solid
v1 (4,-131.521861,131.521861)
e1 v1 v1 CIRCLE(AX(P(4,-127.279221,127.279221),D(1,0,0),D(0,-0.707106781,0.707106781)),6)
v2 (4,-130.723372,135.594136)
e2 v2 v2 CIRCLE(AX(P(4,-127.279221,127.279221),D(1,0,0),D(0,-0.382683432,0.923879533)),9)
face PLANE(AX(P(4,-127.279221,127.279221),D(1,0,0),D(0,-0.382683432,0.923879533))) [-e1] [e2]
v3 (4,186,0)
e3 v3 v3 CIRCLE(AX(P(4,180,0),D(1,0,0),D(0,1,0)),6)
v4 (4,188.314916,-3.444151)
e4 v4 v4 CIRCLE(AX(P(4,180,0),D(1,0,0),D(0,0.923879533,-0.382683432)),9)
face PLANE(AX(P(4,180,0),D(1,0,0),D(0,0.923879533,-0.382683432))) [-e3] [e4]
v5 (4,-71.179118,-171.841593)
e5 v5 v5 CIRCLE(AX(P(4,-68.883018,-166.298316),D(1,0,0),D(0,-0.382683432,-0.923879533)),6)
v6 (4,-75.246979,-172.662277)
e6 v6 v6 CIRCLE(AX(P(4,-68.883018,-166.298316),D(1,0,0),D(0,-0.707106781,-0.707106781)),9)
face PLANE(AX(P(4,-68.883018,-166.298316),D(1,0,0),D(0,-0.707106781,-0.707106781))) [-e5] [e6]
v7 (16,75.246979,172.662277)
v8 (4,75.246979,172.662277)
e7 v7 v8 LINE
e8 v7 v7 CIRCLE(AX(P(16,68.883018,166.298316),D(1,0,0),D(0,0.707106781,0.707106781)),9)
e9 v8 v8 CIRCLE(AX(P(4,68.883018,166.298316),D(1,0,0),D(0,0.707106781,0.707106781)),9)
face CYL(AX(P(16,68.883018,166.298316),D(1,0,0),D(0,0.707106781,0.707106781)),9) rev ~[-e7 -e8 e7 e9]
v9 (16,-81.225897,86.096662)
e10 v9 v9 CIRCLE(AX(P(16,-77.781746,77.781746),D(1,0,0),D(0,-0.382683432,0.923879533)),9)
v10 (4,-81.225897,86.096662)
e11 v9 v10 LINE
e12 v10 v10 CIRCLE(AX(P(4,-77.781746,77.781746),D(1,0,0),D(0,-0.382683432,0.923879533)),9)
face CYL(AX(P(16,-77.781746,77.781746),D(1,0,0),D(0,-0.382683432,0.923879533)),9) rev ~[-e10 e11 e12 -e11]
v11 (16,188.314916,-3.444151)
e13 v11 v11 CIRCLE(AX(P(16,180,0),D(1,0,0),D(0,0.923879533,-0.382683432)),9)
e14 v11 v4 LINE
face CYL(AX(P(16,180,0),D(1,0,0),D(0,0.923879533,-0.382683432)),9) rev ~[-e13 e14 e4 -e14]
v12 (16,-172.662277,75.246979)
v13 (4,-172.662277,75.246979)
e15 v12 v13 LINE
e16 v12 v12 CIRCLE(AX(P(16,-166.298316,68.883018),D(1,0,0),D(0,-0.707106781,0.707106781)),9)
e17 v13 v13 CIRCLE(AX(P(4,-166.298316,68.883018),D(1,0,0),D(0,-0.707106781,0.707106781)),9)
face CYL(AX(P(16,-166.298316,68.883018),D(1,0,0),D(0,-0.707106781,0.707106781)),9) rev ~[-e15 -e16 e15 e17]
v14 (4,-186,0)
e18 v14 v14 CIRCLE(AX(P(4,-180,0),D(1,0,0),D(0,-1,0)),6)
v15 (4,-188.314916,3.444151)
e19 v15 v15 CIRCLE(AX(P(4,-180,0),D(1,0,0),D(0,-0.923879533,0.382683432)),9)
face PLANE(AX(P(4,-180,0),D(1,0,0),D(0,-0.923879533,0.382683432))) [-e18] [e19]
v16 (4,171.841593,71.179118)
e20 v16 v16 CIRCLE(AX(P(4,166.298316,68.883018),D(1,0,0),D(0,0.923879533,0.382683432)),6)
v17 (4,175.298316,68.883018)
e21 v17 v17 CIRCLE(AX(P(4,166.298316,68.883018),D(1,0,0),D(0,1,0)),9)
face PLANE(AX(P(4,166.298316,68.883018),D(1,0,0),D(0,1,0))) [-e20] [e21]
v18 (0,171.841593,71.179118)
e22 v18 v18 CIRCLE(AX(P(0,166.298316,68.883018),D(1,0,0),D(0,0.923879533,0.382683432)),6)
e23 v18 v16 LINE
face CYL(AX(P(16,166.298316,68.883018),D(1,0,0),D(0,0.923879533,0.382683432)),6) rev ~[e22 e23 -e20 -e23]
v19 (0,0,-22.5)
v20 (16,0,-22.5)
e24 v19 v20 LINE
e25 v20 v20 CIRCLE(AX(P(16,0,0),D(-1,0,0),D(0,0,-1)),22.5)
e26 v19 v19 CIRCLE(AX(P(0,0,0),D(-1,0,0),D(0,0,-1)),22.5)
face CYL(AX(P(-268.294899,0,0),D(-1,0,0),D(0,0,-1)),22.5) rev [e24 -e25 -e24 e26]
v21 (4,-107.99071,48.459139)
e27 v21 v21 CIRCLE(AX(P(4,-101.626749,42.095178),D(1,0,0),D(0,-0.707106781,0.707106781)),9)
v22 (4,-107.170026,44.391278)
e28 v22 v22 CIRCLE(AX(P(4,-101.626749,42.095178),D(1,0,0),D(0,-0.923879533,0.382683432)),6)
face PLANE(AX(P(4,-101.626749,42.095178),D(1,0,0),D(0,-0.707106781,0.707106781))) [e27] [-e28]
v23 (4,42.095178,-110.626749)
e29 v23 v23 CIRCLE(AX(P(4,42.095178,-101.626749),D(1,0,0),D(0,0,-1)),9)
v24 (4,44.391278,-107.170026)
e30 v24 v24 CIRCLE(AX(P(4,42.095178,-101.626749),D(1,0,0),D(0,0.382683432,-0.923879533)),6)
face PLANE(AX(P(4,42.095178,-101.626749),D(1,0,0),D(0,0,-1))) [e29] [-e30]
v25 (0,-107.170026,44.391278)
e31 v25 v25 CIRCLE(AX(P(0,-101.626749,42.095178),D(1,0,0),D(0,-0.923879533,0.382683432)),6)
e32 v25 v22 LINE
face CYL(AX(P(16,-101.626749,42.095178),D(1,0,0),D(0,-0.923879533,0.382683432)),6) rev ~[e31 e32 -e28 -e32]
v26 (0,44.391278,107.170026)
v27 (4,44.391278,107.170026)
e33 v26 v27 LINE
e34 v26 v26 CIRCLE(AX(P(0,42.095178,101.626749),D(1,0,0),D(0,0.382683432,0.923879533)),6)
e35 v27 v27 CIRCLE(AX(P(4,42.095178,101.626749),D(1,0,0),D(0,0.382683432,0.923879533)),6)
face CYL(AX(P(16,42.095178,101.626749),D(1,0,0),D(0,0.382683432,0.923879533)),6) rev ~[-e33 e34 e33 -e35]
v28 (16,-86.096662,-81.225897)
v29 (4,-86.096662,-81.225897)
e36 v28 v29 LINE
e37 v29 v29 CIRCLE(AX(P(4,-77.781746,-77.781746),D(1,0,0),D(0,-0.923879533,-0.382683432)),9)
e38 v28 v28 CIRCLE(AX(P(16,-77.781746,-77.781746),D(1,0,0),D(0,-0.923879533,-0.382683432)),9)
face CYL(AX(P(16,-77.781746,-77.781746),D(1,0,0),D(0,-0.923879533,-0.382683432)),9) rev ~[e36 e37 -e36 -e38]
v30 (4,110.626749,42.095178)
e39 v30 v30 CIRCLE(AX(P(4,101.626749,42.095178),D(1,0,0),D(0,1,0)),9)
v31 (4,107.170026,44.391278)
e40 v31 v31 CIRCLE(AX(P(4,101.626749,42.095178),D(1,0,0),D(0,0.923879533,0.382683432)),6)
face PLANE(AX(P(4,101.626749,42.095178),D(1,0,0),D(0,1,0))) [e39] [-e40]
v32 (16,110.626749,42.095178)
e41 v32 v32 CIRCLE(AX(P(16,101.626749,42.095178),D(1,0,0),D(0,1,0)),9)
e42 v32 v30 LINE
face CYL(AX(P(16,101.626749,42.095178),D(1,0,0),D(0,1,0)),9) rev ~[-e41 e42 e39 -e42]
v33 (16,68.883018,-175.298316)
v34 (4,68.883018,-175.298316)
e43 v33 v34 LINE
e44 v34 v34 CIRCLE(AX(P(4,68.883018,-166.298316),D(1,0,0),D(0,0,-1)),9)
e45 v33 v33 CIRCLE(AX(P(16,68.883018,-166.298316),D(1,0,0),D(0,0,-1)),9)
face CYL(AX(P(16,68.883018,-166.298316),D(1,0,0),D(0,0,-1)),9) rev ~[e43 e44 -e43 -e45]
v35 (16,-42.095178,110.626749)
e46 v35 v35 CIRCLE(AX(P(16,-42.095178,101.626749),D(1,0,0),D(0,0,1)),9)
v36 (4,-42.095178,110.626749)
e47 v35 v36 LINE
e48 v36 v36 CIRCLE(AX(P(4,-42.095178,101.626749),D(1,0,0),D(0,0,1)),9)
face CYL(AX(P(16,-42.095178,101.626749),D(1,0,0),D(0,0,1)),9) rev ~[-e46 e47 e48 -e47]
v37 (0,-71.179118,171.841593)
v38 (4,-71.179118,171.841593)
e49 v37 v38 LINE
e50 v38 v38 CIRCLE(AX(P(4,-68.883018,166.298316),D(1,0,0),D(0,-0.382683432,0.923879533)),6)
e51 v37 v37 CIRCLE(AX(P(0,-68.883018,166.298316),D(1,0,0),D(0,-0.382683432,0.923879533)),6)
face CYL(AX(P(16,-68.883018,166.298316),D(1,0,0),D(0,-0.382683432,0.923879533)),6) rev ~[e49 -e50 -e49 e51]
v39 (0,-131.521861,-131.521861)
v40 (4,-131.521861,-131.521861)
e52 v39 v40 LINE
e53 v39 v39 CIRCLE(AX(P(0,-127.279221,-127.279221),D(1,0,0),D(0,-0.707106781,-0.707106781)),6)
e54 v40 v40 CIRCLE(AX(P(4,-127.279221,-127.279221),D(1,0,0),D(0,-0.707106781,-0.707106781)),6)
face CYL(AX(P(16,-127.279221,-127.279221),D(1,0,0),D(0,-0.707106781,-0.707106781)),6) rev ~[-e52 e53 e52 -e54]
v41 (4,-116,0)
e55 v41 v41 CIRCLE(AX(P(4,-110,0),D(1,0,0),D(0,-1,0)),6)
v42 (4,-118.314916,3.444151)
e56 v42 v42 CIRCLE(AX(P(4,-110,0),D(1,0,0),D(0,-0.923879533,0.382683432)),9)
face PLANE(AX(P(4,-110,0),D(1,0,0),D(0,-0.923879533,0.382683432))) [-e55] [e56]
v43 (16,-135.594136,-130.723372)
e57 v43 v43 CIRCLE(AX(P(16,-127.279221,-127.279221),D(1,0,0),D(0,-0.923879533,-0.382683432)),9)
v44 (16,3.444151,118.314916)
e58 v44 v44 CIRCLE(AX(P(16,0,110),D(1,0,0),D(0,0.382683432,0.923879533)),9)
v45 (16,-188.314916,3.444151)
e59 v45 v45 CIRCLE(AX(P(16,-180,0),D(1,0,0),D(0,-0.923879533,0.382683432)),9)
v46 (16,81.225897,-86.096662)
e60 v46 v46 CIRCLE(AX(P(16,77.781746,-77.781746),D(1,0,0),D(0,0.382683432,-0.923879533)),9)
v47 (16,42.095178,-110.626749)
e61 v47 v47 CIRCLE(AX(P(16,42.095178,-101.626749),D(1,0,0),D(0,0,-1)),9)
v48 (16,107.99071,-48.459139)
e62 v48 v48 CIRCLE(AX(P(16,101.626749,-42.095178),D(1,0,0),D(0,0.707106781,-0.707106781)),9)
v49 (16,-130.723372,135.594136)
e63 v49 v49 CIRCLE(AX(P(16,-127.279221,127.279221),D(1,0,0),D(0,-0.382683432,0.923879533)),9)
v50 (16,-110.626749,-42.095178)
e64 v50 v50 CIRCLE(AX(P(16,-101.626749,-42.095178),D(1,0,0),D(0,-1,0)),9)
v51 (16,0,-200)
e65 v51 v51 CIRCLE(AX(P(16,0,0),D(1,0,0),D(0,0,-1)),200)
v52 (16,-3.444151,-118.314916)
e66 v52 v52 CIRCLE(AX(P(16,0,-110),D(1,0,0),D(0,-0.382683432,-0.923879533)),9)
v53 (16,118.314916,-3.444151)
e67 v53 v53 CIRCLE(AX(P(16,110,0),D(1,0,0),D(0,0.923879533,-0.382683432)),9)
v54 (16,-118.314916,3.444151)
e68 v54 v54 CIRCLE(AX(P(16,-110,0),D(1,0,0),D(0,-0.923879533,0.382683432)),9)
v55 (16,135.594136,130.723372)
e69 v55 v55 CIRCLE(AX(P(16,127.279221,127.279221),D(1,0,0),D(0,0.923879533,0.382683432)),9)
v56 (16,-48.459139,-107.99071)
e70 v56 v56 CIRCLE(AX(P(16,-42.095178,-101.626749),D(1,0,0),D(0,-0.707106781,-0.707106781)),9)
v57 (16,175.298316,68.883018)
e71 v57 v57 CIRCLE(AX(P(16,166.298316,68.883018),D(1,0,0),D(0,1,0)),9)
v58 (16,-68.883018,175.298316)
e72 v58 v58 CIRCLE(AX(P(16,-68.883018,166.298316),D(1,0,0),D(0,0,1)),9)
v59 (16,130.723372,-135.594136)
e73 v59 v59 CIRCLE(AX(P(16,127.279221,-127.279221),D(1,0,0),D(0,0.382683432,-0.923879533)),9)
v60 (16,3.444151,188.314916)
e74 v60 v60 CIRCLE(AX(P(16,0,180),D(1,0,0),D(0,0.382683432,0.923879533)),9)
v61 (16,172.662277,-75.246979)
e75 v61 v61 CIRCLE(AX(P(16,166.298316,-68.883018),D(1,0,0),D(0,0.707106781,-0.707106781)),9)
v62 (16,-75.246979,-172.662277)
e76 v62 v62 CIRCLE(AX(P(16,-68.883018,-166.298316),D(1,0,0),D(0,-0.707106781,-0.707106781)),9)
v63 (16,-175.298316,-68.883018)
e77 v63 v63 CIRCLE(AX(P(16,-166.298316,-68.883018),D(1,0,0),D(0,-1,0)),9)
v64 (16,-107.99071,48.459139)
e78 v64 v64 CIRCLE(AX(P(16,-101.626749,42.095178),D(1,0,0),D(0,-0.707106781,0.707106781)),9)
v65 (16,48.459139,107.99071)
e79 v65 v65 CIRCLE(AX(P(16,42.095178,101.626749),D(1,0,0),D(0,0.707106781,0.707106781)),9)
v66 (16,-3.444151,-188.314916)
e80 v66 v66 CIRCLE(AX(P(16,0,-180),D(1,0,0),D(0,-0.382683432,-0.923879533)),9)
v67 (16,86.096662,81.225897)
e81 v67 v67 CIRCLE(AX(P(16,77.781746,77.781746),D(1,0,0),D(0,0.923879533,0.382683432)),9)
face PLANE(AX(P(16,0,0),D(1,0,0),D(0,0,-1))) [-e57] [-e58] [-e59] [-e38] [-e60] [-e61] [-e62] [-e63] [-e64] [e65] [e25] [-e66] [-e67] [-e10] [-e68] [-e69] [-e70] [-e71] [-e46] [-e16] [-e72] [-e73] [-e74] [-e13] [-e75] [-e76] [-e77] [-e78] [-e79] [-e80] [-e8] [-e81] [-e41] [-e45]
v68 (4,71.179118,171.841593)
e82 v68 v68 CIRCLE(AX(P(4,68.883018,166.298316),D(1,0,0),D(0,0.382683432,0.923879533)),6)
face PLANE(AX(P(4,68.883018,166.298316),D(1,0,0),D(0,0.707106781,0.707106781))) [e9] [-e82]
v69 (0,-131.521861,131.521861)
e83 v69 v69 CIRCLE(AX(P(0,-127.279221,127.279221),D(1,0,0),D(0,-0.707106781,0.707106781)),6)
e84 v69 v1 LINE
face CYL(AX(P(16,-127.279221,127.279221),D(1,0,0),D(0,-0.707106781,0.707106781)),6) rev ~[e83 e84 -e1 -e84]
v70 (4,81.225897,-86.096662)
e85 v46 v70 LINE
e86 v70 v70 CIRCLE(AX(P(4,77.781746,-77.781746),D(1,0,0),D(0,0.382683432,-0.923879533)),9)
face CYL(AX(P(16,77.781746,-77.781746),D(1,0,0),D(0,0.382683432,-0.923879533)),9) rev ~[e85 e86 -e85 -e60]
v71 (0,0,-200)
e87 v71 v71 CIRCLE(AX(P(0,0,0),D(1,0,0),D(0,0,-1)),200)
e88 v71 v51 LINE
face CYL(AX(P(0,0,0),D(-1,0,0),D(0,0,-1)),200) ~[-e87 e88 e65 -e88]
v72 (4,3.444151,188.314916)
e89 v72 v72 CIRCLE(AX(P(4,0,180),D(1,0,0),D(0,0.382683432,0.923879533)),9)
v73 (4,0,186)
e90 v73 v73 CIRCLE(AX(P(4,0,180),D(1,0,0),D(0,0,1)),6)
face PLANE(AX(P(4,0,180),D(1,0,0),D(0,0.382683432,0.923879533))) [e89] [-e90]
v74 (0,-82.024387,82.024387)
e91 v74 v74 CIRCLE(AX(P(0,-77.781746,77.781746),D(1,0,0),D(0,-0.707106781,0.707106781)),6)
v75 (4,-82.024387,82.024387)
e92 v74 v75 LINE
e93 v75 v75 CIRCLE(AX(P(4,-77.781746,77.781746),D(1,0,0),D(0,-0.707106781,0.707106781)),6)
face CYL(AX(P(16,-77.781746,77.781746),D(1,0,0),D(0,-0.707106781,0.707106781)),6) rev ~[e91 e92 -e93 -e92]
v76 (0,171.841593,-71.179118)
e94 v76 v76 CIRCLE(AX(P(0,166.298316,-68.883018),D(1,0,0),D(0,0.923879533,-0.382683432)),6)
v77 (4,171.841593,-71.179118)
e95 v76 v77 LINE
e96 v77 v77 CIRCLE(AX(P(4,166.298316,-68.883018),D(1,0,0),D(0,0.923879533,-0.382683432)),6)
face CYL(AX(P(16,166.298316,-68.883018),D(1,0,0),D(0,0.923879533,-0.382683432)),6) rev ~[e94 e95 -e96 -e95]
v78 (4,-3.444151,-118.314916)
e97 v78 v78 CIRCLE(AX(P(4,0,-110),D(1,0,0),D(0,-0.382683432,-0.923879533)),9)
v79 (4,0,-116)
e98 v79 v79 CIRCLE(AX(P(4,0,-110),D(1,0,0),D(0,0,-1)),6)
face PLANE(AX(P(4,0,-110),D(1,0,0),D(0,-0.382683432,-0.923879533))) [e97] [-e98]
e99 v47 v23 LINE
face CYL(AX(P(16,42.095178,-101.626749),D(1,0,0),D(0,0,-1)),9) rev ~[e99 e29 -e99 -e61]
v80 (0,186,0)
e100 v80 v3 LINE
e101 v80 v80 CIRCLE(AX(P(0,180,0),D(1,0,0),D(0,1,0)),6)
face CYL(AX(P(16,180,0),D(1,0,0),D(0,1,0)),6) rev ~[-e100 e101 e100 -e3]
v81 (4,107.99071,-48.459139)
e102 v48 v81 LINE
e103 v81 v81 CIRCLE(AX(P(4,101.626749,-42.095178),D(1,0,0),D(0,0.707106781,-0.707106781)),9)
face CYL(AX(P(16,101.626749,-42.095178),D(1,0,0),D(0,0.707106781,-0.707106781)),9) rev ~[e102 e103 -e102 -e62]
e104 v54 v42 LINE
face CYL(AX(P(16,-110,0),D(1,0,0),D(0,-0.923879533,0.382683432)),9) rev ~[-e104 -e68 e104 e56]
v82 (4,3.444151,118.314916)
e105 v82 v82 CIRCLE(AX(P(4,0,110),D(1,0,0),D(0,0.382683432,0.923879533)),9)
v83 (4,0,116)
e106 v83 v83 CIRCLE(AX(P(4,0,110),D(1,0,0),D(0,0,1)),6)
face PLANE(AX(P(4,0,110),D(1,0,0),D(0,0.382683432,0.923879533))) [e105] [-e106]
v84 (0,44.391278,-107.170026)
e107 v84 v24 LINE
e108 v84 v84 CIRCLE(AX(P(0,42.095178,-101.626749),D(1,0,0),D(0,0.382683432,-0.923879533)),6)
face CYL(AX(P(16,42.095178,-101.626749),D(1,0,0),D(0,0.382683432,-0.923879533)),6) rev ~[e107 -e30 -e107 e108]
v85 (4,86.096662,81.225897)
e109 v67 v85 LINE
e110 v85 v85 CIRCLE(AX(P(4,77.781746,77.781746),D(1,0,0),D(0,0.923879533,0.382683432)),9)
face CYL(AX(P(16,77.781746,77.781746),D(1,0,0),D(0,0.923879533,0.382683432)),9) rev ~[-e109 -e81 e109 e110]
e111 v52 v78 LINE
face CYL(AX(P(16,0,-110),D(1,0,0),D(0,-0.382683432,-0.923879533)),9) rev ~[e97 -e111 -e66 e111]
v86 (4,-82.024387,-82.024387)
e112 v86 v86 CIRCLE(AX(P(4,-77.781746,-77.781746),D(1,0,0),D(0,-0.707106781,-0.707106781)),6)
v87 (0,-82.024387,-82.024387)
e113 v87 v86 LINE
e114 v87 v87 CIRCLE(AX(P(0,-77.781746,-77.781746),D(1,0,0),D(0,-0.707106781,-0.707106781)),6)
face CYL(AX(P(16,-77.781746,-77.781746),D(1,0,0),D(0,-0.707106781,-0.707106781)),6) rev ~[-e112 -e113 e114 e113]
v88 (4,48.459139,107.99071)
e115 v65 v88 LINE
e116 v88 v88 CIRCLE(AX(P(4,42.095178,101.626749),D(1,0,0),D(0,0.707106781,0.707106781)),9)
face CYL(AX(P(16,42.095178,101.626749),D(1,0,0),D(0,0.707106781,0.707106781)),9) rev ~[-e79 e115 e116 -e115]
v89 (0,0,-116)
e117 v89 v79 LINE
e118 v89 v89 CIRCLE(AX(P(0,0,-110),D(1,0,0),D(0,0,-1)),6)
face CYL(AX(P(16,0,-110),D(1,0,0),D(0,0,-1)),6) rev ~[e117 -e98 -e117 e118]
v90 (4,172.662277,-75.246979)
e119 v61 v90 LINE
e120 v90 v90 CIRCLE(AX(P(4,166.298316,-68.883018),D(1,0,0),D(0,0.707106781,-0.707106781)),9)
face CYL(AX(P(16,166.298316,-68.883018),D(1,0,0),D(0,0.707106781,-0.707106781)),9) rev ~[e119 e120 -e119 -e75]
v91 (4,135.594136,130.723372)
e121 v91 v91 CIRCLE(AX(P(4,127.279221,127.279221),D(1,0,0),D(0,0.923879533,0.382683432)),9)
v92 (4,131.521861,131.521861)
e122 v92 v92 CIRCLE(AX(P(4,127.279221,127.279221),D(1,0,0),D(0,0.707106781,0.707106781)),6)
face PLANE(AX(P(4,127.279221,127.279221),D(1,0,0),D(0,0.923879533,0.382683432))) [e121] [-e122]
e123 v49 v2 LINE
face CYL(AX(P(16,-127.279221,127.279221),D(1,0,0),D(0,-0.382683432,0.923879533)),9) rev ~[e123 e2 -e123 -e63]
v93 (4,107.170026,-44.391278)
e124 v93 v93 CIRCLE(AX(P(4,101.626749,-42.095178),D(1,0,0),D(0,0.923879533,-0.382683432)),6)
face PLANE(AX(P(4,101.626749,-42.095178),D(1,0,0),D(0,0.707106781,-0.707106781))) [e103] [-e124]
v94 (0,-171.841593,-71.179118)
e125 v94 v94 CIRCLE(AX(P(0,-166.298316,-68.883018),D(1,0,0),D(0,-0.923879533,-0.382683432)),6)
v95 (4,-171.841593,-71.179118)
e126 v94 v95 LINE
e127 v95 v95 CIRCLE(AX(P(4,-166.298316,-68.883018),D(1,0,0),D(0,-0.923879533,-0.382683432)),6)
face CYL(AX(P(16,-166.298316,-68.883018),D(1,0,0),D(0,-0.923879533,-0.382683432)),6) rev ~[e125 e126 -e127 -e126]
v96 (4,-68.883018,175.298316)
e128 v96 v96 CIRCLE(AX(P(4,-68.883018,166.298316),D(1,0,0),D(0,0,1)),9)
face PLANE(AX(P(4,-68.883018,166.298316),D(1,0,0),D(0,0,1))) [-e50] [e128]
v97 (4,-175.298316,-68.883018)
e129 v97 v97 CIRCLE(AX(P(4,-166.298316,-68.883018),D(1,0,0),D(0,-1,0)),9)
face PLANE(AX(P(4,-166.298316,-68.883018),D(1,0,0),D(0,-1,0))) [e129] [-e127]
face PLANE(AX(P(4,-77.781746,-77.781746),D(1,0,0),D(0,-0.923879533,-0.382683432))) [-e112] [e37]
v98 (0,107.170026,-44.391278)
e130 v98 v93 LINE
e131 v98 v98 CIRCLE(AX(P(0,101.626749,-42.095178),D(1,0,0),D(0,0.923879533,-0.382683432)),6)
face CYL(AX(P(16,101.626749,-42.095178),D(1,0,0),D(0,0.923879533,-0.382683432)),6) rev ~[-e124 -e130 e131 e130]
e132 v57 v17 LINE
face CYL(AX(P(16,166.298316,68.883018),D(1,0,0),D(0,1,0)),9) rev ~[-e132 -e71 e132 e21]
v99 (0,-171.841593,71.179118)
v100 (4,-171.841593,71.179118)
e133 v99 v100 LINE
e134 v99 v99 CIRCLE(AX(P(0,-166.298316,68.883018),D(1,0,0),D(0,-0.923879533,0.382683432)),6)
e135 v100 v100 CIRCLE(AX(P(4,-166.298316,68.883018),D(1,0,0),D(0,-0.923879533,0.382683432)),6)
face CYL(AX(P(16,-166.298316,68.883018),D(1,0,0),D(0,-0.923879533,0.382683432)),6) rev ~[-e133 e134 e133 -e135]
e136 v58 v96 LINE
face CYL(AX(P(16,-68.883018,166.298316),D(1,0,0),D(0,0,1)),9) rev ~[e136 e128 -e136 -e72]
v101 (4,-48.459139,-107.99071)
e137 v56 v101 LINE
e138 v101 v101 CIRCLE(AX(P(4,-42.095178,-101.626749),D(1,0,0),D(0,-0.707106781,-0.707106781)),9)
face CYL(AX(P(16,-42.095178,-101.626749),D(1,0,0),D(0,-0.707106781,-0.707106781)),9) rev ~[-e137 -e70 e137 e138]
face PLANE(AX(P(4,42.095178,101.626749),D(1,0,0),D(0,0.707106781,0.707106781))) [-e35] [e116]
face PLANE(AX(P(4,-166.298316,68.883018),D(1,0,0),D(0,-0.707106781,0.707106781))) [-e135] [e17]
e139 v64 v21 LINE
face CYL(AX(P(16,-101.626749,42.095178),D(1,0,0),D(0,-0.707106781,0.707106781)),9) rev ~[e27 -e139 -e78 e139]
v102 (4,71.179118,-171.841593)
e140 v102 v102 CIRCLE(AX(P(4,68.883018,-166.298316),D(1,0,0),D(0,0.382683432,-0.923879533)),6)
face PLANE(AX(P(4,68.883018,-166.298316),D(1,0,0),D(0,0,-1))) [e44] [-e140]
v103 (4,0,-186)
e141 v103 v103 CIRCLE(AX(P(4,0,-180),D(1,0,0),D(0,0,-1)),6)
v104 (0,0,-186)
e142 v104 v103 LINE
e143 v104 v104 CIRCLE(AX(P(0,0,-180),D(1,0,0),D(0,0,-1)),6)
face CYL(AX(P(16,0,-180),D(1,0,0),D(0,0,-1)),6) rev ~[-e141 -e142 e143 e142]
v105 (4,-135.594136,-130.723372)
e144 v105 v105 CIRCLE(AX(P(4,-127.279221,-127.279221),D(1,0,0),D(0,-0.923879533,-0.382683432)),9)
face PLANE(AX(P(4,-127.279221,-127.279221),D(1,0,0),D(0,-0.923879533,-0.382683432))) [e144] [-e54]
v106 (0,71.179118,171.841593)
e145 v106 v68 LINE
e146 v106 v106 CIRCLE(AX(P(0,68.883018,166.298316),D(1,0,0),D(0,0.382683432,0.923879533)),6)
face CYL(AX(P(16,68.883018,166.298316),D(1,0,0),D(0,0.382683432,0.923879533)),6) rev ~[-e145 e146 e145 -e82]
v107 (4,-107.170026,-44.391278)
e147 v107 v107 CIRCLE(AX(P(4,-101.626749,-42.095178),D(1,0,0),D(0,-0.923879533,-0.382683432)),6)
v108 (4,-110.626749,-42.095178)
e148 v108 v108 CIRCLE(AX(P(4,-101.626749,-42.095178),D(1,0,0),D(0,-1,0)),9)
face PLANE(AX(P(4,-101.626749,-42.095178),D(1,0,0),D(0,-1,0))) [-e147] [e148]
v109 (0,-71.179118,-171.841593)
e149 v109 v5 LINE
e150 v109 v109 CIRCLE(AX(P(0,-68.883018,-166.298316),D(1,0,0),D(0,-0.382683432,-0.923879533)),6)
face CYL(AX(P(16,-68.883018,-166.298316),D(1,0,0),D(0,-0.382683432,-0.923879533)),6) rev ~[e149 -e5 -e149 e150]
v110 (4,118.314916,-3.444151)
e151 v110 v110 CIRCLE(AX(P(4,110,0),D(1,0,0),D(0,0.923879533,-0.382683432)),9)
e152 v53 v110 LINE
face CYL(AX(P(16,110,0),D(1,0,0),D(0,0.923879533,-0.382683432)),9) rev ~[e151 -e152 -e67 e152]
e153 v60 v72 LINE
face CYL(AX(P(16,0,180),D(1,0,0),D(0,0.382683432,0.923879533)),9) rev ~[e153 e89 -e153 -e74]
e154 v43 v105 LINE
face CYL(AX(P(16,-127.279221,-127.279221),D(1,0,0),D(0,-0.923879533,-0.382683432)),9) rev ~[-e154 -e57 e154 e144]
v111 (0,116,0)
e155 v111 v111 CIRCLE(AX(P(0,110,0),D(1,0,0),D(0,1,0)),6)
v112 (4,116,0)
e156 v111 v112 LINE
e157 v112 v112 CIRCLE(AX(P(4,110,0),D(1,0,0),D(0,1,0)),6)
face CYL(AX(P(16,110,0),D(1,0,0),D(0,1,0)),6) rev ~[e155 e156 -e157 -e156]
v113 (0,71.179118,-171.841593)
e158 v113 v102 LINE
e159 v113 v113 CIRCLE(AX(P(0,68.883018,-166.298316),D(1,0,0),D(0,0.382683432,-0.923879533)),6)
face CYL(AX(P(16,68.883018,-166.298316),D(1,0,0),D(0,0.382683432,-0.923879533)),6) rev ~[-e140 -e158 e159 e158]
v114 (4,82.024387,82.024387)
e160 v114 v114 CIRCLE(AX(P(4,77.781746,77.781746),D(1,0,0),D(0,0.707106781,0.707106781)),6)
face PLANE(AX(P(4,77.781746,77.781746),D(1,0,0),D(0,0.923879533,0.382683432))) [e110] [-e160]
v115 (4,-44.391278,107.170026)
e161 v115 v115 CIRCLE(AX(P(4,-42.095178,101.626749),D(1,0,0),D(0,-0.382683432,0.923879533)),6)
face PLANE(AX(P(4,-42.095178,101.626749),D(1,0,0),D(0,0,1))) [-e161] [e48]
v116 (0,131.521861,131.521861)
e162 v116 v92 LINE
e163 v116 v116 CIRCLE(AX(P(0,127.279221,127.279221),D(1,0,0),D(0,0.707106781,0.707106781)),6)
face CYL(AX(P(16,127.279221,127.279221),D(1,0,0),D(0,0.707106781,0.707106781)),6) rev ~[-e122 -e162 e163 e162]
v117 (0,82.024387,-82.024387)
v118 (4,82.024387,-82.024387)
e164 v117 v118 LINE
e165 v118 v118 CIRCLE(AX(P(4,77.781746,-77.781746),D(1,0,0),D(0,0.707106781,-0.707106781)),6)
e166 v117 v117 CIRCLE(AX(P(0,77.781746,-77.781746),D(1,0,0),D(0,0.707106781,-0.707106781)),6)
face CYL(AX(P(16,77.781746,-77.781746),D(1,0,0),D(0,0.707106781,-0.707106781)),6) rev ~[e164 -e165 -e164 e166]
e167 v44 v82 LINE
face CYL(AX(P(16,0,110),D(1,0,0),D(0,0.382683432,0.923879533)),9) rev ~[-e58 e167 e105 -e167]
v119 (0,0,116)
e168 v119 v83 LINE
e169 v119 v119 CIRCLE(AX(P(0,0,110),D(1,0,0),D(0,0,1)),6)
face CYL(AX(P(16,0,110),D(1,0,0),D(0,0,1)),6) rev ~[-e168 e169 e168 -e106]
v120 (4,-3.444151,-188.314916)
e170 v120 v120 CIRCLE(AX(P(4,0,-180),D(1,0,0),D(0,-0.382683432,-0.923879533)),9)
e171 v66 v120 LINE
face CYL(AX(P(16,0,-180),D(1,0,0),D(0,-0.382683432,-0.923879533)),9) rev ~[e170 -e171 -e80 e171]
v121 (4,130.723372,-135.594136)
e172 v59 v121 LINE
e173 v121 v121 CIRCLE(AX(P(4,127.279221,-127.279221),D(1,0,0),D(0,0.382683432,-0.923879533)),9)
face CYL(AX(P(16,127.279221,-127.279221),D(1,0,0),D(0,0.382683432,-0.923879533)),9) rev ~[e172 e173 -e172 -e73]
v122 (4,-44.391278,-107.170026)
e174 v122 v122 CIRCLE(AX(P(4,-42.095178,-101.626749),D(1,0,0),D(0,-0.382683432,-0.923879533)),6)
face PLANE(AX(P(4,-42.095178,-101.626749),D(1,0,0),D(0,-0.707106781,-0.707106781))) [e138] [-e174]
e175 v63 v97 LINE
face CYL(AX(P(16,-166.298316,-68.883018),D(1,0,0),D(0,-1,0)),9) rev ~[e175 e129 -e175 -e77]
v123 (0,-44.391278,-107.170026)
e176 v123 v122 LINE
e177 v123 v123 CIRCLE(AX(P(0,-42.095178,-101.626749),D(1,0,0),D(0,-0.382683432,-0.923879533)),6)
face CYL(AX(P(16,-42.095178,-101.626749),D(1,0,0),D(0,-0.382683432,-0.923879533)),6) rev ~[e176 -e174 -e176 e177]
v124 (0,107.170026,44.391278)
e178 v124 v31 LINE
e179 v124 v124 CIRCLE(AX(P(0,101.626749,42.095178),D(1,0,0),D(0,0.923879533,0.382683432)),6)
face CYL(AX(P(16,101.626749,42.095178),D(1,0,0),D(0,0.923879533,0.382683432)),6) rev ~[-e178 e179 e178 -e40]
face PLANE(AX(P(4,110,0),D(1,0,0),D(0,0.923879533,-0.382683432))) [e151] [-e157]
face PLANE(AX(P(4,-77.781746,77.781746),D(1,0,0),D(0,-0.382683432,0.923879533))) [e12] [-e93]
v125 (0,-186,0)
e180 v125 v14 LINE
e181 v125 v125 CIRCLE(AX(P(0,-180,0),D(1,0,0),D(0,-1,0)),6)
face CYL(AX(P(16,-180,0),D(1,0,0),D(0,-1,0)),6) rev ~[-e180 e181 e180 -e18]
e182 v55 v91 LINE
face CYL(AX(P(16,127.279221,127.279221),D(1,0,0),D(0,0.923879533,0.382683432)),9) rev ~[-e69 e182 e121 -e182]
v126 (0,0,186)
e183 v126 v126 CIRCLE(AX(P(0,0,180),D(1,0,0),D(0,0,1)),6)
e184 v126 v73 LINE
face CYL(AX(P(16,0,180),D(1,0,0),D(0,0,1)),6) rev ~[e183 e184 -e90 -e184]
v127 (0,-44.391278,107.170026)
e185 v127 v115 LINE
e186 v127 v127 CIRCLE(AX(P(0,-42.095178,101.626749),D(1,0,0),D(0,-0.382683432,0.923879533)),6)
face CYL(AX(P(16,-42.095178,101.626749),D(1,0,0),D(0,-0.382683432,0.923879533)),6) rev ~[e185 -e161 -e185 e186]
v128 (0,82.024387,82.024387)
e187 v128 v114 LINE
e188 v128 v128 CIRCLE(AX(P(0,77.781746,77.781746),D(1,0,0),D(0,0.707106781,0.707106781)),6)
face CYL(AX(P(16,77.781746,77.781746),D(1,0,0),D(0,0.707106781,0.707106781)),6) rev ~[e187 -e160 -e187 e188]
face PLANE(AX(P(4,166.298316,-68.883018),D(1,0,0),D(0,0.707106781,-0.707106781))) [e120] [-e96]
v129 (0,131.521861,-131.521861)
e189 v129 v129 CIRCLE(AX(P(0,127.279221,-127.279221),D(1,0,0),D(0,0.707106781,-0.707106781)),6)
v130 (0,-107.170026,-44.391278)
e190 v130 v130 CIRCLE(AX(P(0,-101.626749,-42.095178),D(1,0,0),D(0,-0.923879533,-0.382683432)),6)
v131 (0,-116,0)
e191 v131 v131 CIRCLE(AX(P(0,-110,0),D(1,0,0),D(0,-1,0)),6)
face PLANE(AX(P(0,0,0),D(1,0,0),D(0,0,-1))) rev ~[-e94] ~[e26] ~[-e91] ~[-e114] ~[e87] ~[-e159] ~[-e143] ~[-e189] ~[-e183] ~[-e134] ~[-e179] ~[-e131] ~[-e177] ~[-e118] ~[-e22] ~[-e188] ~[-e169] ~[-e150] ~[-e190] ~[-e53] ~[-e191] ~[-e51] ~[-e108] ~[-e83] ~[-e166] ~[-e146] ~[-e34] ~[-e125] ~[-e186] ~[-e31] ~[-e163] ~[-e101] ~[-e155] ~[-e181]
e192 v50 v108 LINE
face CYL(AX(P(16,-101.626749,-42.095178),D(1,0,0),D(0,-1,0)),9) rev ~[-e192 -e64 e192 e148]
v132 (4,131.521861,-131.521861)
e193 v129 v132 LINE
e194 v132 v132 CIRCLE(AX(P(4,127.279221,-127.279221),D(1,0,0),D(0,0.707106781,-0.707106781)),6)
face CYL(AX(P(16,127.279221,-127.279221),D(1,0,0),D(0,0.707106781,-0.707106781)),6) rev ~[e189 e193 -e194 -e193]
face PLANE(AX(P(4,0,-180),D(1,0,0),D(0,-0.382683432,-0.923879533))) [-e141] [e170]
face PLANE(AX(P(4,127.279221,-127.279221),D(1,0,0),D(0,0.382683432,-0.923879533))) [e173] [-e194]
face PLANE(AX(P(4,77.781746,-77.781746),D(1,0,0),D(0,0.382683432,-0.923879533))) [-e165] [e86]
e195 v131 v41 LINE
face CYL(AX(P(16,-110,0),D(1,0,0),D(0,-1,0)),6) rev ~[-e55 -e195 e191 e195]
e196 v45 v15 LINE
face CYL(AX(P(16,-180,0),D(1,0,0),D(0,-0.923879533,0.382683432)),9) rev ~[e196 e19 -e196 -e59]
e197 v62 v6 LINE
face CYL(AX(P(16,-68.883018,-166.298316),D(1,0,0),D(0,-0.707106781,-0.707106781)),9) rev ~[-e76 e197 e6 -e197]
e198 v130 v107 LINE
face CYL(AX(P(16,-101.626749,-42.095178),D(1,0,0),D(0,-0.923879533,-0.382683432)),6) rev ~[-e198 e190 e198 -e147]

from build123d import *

# Parameters (mm, degrees)
SKETCH1_R               = 200
BOSS_EXTRUDE1_DEPTH     = 16
CUT_EXTRUDE1_DEPTH      = 284.294899354
CUT_EXTRUDE1_DEPTH_BACK = 284.294899354
SKETCH2_R               = 22.5
SKETCH3_R               = 6
CUT_EXTRUDE2_DEPTH      = 284.294899354
CIRPATTERN1_COUNT       = 16
SKETCH4_R               = 6
CUT_EXTRUDE3_DEPTH      = 284.294899354
CIRPATTERN2_COUNT       = 16
SKETCH5_R               = 9
CUT_EXTRUDE4_DEPTH      = 12
CIRPATTERN3_COUNT       = 16
SKETCH6_R               = 9
CUT_EXTRUDE5_DEPTH      = 12
CIRPATTERN4_COUNT       = 16


with BuildPart() as part:
    # Sketch1 → Boss-Extrude1 (new body)
    with BuildSketch(Plane(origin=(0, 0, 0), x_dir=(0, 0, -1), z_dir=(1, 0, 0))):
        Circle(SKETCH1_R)
    extrude(amount=BOSS_EXTRUDE1_DEPTH)

    # Sketch2 → Cut-Extrude1 (cut, two sides: drawn at the far end of the back side and taken through both)
    with BuildSketch(Plane(origin=(16, 0, 0), x_dir=(0, 0, -1), z_dir=(1, 0, 0)).offset(-CUT_EXTRUDE1_DEPTH_BACK)):
        Circle(SKETCH2_R)
    extrude(amount=CUT_EXTRUDE1_DEPTH + CUT_EXTRUDE1_DEPTH_BACK, mode=Mode.SUBTRACT)

    # Sketch3 → Cut-Extrude2 (cut, symmetric)
    with BuildSketch(Plane(origin=(16, 0, 0), x_dir=(0, 0, -1), z_dir=(1, 0, 0))):
        with Locations((110, 0)):
            Circle(SKETCH3_R)
    cut_extrude2 = extrude(amount=CUT_EXTRUDE2_DEPTH, both=True, mode=Mode.SUBTRACT)

    # CirPattern1: Cut-Extrude2 ×16 about axis
    cirpattern1_axis = Axis((0, 0, 0), (1, 0, 0))
    for i in range(1, CIRPATTERN1_COUNT):
        add(cut_extrude2.rotate(cirpattern1_axis, i * 360 / CIRPATTERN1_COUNT), mode=Mode.SUBTRACT)

    # Sketch4 → Cut-Extrude3 (cut, symmetric)
    with BuildSketch(Plane(origin=(16, 0, 0), x_dir=(0, 0, -1), z_dir=(1, 0, 0))):
        with Locations((180, 0)):
            Circle(SKETCH4_R)
    cut_extrude3 = extrude(amount=CUT_EXTRUDE3_DEPTH, both=True, mode=Mode.SUBTRACT)

    # CirPattern2: Cut-Extrude3 ×16 about axis
    cirpattern2_axis = Axis((0, 0, 0), (1, 0, 0))
    for i in range(1, CIRPATTERN2_COUNT):
        add(cut_extrude3.rotate(cirpattern2_axis, i * 360 / CIRPATTERN2_COUNT), mode=Mode.SUBTRACT)

    # Sketch5 → Cut-Extrude4 (cut)
    with BuildSketch(Plane(origin=(16, 0, 0), x_dir=(0, 0, -1), z_dir=(1, 0, 0))):
        with Locations((166.298315852, 68.883017826)):
            Circle(SKETCH5_R)
    cut_extrude4 = extrude(amount=-CUT_EXTRUDE4_DEPTH, mode=Mode.SUBTRACT)

    # CirPattern3: Cut-Extrude4 ×16 about axis
    cirpattern3_axis = Axis((0, 0, 0), (1, 0, 0))
    for i in range(1, CIRPATTERN3_COUNT):
        add(cut_extrude4.rotate(cirpattern3_axis, i * 360 / CIRPATTERN3_COUNT), mode=Mode.SUBTRACT)

    # Sketch6 → Cut-Extrude5 (cut)
    with BuildSketch(Plane(origin=(16, 0, 0), x_dir=(0, 0, -1), z_dir=(1, 0, 0))):
        with Locations((101.626748576, 42.09517756)):
            Circle(SKETCH6_R)
    cut_extrude5 = extrude(amount=-CUT_EXTRUDE5_DEPTH, mode=Mode.SUBTRACT)

    # CirPattern4: Cut-Extrude5 ×16 about axis
    cirpattern4_axis = Axis((0, 0, 0), (1, 0, 0))
    for i in range(1, CIRPATTERN4_COUNT):
        add(cut_extrude5.rotate(cirpattern4_axis, i * 360 / CIRPATTERN4_COUNT), mode=Mode.SUBTRACT)


solid = part.part
